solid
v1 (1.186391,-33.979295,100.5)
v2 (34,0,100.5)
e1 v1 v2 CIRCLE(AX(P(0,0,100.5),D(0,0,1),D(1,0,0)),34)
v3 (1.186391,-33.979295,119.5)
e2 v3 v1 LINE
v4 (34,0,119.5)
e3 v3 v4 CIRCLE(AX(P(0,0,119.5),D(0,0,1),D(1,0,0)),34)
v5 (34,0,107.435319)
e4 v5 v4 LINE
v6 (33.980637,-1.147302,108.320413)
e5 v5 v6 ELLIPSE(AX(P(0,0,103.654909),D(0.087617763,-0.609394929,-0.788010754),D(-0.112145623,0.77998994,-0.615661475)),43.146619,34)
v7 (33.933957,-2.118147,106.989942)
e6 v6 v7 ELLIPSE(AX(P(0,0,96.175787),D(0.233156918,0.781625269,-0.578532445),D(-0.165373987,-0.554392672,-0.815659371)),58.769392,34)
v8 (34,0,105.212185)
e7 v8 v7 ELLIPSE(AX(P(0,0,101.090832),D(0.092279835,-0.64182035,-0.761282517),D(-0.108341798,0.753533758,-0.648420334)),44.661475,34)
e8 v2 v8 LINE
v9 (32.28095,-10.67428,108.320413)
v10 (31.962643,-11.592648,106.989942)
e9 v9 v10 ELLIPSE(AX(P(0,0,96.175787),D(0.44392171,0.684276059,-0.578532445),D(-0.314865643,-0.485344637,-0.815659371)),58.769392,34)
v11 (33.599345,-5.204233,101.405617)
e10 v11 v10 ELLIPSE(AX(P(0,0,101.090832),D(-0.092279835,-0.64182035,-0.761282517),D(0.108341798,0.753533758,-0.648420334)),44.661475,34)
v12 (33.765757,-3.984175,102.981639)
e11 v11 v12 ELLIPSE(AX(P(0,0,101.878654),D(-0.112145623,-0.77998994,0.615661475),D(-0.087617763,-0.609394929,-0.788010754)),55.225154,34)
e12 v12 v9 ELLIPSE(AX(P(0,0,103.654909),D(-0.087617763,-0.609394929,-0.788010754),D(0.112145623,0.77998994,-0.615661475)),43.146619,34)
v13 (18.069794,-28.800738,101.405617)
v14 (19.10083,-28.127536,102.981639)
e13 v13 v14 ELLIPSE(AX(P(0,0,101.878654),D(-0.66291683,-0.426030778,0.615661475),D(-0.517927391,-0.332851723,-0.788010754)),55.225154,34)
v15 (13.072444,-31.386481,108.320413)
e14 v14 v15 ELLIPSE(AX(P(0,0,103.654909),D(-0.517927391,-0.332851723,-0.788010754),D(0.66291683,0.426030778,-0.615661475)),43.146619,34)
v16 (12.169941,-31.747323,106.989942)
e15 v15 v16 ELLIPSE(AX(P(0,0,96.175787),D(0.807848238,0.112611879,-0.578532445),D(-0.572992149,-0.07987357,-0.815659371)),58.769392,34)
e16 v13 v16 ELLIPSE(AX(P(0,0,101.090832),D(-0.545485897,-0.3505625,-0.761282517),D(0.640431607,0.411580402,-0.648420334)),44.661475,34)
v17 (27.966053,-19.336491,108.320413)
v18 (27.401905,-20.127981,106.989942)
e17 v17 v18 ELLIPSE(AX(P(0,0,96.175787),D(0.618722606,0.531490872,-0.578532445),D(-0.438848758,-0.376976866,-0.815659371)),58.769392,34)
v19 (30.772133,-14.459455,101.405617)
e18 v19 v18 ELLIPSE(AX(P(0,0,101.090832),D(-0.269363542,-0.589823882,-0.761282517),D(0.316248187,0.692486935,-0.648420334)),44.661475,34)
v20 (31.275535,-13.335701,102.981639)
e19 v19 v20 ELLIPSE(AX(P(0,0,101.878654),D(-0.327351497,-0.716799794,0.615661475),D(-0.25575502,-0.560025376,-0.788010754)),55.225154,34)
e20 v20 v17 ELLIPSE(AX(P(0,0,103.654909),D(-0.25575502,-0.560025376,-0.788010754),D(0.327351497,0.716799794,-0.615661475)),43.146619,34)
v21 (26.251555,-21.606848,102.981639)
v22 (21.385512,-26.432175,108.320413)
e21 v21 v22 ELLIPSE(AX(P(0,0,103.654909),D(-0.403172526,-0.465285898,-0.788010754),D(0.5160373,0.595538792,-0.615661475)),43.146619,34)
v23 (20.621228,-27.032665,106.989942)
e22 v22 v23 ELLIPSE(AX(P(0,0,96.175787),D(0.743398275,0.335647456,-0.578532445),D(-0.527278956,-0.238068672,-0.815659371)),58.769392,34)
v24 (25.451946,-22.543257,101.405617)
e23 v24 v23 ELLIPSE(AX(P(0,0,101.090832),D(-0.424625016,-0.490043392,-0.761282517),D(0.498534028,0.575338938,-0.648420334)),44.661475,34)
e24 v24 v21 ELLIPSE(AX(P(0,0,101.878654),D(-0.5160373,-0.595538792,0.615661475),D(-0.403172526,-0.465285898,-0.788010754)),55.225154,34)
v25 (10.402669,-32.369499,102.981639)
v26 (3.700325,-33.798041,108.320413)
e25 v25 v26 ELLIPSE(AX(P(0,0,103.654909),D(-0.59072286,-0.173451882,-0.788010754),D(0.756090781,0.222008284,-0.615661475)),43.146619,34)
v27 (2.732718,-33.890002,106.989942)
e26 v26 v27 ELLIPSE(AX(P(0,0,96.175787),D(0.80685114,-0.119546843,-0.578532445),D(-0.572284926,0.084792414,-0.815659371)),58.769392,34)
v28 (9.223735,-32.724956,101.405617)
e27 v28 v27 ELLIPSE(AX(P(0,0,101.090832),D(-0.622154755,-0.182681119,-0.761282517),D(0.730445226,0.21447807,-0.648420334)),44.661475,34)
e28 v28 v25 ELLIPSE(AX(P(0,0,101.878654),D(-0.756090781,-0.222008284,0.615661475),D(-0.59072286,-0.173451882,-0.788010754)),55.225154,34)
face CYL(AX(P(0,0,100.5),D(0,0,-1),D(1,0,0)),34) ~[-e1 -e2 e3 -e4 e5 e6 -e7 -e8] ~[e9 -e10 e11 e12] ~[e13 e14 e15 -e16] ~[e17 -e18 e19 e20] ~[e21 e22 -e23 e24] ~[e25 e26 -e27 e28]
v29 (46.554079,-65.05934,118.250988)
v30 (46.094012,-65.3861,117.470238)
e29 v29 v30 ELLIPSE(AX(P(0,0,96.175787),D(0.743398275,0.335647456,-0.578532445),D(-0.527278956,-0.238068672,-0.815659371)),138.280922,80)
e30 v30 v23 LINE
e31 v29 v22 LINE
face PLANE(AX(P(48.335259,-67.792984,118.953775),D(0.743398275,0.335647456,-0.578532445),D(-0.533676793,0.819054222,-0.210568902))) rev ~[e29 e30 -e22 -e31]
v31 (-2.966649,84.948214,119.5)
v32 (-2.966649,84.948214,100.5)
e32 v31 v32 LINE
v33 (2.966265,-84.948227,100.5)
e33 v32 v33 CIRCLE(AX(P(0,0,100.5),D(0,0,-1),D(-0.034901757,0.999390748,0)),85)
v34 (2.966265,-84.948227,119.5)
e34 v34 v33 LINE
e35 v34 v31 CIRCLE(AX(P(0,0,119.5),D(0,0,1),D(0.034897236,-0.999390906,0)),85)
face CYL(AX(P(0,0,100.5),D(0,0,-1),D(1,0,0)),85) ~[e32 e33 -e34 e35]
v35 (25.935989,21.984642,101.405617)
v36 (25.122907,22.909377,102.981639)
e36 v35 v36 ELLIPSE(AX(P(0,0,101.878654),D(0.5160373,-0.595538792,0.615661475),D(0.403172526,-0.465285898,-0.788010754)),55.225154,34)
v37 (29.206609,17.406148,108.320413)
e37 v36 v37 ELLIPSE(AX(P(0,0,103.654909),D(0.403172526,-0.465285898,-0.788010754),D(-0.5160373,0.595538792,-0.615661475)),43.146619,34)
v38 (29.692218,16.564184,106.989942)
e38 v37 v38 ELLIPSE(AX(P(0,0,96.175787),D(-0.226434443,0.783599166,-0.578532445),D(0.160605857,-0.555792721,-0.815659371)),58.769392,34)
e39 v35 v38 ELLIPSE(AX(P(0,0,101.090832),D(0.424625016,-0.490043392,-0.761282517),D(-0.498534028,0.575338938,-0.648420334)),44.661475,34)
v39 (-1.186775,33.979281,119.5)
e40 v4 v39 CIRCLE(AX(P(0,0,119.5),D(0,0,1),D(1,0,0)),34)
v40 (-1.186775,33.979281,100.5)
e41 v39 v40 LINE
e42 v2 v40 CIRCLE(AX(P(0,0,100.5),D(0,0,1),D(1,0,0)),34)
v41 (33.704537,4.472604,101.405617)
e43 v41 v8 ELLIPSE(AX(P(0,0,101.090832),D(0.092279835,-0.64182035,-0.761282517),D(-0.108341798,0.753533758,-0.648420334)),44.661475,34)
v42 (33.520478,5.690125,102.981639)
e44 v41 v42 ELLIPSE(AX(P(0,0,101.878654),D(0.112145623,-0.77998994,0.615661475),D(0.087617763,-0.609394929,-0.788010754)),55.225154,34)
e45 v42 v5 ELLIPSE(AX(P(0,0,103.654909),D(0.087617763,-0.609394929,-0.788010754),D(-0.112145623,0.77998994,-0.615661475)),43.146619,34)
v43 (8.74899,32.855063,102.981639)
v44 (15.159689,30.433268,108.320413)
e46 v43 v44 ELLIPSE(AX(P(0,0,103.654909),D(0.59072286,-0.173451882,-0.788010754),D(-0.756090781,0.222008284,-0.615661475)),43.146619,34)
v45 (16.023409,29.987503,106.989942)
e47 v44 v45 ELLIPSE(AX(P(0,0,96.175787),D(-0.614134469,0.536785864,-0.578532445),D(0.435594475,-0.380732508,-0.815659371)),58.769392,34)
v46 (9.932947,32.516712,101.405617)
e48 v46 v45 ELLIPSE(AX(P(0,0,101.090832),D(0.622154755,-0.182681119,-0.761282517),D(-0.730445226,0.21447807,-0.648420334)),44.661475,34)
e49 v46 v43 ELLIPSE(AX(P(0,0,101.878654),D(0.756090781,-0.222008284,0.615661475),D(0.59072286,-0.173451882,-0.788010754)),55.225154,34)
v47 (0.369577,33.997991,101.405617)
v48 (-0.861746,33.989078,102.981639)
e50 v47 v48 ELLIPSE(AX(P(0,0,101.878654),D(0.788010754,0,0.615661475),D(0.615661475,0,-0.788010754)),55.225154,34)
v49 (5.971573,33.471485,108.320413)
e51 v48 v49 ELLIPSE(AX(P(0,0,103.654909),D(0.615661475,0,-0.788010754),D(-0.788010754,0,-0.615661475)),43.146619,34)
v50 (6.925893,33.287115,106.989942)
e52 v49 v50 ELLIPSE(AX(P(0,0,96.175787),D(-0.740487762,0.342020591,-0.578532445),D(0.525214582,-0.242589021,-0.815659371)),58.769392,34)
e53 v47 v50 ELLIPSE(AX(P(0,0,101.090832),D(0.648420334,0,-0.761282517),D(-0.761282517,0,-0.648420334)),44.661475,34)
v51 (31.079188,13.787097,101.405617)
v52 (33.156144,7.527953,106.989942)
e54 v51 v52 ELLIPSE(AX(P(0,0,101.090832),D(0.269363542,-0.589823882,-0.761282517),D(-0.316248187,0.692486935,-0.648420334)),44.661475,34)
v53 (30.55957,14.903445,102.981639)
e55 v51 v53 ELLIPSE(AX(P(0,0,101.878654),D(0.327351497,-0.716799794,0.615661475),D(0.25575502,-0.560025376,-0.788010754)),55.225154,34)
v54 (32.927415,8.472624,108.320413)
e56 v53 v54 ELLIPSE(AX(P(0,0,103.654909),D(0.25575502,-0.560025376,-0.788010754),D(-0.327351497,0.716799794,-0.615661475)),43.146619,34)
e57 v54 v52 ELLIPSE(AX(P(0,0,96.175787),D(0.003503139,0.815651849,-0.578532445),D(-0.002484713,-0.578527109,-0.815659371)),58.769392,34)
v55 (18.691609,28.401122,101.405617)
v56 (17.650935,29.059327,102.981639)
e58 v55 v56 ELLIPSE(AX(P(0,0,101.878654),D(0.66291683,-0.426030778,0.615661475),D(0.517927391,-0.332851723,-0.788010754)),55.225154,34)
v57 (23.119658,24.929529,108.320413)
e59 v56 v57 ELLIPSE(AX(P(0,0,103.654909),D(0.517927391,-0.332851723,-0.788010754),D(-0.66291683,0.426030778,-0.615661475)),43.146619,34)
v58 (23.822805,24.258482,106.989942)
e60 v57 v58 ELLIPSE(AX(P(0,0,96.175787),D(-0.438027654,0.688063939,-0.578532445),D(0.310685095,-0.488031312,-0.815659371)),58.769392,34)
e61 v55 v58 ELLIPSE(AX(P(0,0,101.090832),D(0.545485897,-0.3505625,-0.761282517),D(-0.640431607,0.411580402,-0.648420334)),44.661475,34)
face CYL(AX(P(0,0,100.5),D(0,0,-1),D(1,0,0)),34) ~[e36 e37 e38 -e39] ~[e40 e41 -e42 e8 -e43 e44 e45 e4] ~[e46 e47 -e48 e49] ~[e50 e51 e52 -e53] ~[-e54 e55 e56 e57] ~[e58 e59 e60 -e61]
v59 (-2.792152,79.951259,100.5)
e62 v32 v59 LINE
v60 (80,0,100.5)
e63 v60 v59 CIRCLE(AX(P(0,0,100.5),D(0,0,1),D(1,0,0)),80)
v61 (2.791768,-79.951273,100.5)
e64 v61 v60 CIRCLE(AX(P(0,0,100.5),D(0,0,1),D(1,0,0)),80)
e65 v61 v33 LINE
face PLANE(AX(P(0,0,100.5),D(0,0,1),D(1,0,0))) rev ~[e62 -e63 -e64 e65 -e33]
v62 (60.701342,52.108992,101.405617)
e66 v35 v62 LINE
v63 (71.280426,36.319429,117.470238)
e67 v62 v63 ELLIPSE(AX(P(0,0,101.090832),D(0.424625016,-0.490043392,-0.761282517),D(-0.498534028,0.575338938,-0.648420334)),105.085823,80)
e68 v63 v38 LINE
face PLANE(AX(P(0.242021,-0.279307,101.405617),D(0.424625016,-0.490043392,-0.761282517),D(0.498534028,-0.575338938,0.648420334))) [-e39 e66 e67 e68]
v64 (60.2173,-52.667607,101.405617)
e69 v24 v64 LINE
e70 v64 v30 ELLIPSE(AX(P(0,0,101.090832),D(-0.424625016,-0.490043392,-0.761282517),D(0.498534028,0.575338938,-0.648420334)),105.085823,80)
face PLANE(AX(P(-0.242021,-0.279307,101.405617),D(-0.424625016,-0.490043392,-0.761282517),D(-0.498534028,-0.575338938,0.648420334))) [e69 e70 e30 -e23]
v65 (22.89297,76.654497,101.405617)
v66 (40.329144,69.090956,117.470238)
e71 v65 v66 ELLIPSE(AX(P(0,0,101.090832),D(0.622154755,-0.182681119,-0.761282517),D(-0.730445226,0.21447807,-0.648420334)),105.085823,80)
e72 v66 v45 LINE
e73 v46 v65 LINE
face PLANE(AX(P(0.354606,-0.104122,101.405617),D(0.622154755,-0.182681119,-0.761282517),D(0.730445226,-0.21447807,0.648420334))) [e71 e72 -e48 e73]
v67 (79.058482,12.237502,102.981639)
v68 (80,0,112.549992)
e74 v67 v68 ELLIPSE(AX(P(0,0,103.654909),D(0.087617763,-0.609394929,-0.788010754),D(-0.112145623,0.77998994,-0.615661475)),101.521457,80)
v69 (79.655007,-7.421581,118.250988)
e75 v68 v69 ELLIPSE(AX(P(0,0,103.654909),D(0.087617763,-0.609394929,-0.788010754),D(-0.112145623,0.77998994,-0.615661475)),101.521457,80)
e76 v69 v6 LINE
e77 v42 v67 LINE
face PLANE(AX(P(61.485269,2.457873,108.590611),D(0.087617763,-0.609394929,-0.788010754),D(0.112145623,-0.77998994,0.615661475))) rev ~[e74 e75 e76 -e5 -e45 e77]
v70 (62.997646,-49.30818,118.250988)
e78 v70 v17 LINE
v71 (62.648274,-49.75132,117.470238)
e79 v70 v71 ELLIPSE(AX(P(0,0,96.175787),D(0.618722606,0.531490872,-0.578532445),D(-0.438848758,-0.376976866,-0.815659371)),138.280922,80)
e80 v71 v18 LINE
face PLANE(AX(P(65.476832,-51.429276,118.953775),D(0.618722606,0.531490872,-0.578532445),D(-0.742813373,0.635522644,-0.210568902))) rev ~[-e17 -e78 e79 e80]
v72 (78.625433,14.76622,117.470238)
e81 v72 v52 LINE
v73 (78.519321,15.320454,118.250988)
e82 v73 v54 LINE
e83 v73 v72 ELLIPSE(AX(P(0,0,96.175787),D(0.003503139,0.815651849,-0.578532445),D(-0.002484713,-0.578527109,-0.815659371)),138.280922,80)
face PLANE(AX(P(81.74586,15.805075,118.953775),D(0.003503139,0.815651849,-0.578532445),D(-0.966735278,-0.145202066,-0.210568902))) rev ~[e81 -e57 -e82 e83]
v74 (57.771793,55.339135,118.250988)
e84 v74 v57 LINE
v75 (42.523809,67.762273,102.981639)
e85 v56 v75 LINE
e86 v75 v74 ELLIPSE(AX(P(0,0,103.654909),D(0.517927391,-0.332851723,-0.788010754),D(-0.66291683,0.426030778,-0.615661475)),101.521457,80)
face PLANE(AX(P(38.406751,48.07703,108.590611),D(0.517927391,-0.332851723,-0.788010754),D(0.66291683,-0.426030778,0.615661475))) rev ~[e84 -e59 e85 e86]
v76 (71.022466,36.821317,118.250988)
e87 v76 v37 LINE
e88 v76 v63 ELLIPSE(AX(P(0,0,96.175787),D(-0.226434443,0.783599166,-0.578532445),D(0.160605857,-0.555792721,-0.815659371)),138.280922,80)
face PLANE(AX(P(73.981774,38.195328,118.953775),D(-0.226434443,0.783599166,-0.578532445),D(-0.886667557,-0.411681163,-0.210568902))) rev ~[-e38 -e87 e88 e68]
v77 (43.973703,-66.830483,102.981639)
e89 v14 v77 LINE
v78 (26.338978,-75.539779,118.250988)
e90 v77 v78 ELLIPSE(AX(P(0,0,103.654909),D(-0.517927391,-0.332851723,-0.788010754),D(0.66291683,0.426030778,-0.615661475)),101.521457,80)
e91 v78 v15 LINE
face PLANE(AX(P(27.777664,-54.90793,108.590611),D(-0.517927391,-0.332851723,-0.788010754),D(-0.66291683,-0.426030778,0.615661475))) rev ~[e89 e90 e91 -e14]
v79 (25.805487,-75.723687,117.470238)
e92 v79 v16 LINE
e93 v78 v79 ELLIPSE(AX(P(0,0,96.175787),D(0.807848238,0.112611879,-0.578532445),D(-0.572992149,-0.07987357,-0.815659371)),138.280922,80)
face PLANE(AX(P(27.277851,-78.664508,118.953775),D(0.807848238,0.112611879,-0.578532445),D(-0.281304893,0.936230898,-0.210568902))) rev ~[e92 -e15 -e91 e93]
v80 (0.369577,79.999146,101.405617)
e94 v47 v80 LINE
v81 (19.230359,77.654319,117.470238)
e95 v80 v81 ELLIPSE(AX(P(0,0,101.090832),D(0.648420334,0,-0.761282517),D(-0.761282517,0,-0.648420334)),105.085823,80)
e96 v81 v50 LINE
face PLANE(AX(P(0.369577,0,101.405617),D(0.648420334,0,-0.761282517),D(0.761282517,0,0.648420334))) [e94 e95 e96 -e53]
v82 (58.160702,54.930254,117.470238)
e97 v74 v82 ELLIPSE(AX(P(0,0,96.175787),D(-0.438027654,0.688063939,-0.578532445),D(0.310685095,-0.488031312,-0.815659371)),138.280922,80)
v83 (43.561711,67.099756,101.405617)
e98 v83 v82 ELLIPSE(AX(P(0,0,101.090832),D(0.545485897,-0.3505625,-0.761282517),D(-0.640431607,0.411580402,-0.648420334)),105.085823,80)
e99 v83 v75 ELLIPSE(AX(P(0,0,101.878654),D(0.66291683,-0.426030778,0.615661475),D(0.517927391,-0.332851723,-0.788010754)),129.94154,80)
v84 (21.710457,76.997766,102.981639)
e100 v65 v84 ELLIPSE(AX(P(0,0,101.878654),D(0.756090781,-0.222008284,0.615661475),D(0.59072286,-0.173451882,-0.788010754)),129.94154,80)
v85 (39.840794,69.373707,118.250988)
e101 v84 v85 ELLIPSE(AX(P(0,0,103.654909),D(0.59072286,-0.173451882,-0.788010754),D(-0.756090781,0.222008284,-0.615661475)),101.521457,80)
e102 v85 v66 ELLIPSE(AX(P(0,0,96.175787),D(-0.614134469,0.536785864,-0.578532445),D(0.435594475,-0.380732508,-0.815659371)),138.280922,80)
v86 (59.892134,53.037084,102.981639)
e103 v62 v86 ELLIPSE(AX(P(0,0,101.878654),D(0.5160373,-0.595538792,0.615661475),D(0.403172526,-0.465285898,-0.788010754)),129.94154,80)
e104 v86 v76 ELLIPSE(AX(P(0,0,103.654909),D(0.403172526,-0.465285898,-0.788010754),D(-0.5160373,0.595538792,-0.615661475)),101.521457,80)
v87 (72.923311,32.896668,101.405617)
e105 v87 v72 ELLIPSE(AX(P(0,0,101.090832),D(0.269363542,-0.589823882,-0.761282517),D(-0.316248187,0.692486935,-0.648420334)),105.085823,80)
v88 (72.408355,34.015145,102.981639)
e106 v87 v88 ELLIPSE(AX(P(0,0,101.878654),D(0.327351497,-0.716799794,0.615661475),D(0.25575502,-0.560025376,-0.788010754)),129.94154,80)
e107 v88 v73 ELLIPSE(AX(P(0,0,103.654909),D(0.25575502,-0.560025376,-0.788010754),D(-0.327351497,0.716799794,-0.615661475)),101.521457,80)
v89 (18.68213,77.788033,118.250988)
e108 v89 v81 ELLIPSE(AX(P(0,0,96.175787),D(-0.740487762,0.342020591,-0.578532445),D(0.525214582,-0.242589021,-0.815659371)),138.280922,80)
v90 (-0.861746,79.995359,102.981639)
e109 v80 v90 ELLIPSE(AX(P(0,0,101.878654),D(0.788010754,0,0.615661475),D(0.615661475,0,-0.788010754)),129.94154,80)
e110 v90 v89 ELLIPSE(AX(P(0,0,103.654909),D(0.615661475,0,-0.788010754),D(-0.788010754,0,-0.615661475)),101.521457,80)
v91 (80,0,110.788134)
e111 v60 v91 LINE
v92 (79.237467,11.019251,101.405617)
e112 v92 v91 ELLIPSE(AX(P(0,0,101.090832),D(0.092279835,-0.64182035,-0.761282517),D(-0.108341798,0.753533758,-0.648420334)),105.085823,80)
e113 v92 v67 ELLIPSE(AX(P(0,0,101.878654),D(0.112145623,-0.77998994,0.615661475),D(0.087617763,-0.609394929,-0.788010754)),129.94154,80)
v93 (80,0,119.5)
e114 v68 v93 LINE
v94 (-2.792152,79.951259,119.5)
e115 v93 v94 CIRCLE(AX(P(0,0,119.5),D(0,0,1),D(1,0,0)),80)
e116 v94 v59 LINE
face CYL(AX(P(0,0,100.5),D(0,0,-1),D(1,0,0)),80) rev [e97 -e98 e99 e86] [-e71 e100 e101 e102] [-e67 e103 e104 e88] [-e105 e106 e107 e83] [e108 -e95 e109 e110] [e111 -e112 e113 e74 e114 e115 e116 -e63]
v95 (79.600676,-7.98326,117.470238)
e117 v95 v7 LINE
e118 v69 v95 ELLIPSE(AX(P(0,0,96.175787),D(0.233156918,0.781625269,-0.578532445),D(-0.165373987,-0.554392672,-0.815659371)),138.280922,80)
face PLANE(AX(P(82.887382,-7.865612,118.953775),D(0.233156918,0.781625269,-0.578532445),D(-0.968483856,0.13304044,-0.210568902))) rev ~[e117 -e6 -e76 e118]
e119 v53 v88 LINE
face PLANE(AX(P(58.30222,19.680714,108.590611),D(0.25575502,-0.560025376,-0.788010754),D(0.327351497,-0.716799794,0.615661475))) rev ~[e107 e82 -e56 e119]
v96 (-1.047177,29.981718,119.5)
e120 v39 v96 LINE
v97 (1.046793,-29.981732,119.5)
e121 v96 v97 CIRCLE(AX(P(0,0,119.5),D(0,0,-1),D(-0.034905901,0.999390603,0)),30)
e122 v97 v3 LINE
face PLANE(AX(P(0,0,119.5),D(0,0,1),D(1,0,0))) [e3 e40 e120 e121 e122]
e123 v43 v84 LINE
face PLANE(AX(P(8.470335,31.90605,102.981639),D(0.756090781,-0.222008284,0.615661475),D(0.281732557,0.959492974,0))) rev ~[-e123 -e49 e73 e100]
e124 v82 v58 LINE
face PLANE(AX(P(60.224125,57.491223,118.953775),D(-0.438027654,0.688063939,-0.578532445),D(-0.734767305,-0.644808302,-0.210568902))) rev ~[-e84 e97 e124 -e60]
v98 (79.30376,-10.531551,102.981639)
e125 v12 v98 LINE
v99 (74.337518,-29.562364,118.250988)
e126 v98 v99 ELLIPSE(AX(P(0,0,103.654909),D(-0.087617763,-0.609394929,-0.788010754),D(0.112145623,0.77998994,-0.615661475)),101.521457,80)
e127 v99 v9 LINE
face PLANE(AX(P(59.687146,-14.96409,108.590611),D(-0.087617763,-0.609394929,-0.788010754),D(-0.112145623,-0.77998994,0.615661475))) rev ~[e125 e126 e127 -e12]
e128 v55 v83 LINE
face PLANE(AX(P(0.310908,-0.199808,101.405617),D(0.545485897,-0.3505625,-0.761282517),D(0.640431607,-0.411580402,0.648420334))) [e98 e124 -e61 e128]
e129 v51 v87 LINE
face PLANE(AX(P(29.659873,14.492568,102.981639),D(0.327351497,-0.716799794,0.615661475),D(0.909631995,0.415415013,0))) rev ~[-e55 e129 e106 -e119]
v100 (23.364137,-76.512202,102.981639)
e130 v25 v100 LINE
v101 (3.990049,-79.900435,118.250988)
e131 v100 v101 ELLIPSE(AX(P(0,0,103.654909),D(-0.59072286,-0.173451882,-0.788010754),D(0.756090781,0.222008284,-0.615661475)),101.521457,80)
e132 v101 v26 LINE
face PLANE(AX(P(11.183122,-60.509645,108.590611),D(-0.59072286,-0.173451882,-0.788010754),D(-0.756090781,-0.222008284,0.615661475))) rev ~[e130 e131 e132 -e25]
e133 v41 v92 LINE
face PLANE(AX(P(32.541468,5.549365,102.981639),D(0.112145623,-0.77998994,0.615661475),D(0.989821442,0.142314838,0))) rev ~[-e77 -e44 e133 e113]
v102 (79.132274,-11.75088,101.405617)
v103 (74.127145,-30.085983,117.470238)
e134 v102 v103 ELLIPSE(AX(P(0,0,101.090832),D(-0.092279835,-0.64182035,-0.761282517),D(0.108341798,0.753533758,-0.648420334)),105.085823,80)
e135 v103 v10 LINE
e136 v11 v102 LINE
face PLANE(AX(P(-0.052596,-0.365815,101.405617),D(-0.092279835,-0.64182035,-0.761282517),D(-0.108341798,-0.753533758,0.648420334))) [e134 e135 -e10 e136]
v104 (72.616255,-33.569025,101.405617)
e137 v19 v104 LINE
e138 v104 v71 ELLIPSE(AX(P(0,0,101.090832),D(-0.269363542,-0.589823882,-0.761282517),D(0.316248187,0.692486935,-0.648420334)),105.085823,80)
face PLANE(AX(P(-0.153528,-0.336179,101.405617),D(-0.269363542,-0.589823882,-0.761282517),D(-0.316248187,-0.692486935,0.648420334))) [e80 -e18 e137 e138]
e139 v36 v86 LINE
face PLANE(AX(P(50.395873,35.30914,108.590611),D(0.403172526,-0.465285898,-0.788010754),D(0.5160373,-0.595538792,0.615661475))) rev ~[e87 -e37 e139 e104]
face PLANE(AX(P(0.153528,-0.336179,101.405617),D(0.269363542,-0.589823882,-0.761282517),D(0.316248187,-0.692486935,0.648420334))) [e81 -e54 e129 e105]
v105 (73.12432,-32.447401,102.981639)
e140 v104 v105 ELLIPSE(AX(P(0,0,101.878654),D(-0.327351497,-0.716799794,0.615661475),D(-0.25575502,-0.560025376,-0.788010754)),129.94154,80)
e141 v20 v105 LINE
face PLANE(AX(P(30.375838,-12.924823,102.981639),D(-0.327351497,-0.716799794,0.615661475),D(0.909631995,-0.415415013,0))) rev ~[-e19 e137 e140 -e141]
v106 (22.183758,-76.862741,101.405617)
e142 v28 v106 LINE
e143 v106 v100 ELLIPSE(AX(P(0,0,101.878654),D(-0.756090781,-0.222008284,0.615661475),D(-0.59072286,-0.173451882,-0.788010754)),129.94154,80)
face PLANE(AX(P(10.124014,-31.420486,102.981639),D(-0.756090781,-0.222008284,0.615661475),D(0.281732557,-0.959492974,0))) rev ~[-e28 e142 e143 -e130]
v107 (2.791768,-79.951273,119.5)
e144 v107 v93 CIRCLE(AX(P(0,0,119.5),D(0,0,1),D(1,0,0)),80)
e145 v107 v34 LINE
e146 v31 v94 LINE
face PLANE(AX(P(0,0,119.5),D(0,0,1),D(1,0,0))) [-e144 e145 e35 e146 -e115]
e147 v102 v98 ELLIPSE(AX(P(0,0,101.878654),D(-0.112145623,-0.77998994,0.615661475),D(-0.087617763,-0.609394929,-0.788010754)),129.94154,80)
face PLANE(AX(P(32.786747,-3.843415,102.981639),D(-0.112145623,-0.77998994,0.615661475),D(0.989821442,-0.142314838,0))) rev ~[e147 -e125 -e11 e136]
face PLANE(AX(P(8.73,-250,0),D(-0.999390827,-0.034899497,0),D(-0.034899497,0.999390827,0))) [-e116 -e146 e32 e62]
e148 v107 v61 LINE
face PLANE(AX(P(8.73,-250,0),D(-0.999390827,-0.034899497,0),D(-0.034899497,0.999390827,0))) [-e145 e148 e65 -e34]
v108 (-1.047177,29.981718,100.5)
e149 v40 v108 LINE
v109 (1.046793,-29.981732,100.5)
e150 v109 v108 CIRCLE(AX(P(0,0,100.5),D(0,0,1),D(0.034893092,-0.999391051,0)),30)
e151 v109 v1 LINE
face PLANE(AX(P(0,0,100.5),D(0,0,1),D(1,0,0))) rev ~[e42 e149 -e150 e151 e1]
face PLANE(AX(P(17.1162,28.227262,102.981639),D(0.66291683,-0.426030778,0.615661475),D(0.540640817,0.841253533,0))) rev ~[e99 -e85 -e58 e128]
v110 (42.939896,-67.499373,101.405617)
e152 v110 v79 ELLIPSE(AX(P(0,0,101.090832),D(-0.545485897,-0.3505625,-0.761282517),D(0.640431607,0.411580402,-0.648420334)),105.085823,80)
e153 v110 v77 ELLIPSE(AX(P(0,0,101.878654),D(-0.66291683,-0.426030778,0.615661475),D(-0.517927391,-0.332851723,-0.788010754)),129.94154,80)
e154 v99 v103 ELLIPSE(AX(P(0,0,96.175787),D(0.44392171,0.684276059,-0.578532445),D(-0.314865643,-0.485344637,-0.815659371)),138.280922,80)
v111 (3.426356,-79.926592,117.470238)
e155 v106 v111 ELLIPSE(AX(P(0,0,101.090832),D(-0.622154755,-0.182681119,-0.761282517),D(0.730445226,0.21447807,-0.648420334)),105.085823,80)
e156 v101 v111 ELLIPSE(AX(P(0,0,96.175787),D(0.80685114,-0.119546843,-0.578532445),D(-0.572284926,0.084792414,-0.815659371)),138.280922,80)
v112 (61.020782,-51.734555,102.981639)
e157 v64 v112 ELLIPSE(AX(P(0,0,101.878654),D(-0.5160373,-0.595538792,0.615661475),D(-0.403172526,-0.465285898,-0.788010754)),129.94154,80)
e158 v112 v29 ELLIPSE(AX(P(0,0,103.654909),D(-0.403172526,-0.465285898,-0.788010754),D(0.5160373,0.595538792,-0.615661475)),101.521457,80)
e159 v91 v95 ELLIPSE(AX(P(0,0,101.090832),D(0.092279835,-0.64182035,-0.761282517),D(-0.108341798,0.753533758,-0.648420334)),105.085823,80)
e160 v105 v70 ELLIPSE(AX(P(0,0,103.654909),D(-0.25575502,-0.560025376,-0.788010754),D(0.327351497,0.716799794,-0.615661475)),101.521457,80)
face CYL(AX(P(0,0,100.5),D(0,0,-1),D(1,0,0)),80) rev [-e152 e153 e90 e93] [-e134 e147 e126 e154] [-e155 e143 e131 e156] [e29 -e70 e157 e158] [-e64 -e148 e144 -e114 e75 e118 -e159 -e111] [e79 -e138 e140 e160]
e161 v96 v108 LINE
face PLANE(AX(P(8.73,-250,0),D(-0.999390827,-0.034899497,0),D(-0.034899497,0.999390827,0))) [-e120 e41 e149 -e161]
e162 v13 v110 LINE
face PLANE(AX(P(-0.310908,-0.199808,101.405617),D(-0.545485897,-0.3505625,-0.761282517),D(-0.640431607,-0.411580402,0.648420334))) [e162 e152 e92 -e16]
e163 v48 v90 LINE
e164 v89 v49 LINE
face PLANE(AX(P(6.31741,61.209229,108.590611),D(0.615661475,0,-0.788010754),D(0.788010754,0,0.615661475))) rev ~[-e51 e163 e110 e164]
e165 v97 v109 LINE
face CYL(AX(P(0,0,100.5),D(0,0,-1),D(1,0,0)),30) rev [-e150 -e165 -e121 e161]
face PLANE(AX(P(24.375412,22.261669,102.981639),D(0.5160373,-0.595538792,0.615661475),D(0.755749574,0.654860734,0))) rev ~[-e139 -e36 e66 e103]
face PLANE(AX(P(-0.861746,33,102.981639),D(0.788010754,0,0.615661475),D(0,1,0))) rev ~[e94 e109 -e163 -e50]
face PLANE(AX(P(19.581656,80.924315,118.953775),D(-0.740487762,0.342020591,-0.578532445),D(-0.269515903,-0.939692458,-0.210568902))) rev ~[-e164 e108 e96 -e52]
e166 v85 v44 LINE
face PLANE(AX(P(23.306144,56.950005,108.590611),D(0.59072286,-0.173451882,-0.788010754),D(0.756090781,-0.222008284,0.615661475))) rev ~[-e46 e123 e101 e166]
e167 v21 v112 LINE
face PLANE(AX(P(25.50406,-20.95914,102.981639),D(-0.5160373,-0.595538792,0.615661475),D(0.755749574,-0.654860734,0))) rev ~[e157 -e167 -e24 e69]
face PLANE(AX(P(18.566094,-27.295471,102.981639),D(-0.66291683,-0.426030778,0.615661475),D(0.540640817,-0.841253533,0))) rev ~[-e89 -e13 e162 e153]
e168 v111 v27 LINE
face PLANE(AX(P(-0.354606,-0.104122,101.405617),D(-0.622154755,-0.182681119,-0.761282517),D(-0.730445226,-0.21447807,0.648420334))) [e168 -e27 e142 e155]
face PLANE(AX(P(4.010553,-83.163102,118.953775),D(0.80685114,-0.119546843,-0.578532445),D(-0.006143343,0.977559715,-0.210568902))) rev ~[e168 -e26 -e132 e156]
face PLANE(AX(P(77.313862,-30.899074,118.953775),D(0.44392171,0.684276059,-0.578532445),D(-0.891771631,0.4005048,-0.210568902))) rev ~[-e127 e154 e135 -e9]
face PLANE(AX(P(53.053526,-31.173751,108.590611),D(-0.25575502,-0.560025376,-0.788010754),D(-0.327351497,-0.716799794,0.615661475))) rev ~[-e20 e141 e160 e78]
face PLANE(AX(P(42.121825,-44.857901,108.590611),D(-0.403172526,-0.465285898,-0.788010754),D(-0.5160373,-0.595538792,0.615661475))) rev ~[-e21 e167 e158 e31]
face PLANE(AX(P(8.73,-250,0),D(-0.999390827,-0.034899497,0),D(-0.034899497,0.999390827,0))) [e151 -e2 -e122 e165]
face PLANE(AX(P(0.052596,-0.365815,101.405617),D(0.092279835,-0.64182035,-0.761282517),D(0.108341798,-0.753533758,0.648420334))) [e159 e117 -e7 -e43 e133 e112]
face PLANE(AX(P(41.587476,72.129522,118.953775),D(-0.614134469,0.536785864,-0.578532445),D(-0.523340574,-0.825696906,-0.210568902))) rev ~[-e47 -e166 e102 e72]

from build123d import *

# Parameters (mm, degrees)
BOX002_W                  = 500
BOX002_H                  = 500
BOX002_DEPTH              = 500
BOX002_PLACEMENT_ANGLE    = 2
TUBE021_R                 = 85
TUBE021_R_2               = 80
TUBE021_DEPTH             = 19
TUBE013_R                 = 100
TUBE013_R_2               = 80
TUBE013_DEPTH             = 200
PAD028_DEPTH              = 100
PAD029_DEPTH              = 2
COMMON012_PLACEMENT_ANGLE = 38
ARRAY012_COUNT            = 22
ARRAY012_PLACEMENT_ANGLE  = 180
TUBE022_R                 = 34
TUBE022_R_2               = 30
TUBE022_DEPTH             = 19


with BuildPart() as cube002:
    # Box002 → Box002 (new body)
    with BuildSketch(Plane.XY):
        with Locations((250, 250)):
            Rectangle(BOX002_W, BOX002_H)
    extrude(amount=BOX002_DEPTH)


with BuildPart() as cube002_1:
    # Box002 placement: moved
    add(cube002.part.moved(Location((8.73, -250, 0))).rotate(Axis((8.73, -250, 0), (0, 0, 1)), BOX002_PLACEMENT_ANGLE))


with BuildPart() as tube021:
    # Tube021 → Tube021 (new body)
    with BuildSketch(Plane.XY.offset(100.5)):
        Circle(TUBE021_R)
        Circle(TUBE021_R_2, mode=Mode.SUBTRACT)
    extrude(amount=TUBE021_DEPTH)


with BuildPart() as tube013:
    # Tube013 → Tube013 (new body)
    with BuildSketch(Plane.XY):
        Circle(TUBE013_R)
        Circle(TUBE013_R_2, mode=Mode.SUBTRACT)
    extrude(amount=TUBE013_DEPTH)


with BuildPart() as body029:
    # Sketch028 → Pad028 (new body)
    with BuildSketch(Plane.XZ):
        Polygon((0, 0), (0, 2), (26, 0.9), (26, 0), align=None)
    extrude(amount=PAD028_DEPTH)


with BuildPart() as body029_1:
    # Body029 placement: moved
    add(body029.part.moved(Location((-5, 0, 5))))


with BuildPart() as cut002:
    # Sketch029 → Pad029 (new body)
    with BuildSketch(Plane.XY):
        Polygon((0, 0), (0, -52), (25.94305, -47.924315), (8.5, 0), align=None)
    extrude(amount=PAD029_DEPTH)


with BuildPart() as cut002_1:
    # Body030 placement: moved
    add(cut002.part.moved(Location((-5, -33, 5))))

    # Common012: intersect Body029
    add(body029_1.part, mode=Mode.INTERSECT)


with BuildPart() as cut002_2:
    # Common012 placement: moved
    add(cut002_1.part.rotate(Axis((0, 0, 0), (0, 1, 0)), COMMON012_PLACEMENT_ANGLE))

    # Array012: Cut002 ×22 about axis
    array012_axis = Axis((0, 0, 0), (0, 0, 1))


with BuildPart() as cut002_3:
    add(cut002_2.part)
    for i in range(1, ARRAY012_COUNT):
        add(cut002_2.part.rotate(array012_axis, i * 360 / ARRAY012_COUNT))


with BuildPart() as cut002_4:
    # Array012 placement: moved
    add(cut002_3.part.moved(Location((0, 0, 110))).rotate(Axis((0, 0, 110), (0, 1, 0)), ARRAY012_PLACEMENT_ANGLE))

    # Cut002: cut Tube013
    add(tube013.part, mode=Mode.SUBTRACT)


with BuildPart() as stator1h1:
    # Tube022 → Tube022 (new body)
    with BuildSketch(Plane.XY.offset(100.5)):
        Circle(TUBE022_R)
        Circle(TUBE022_R_2, mode=Mode.SUBTRACT)
    extrude(amount=TUBE022_DEPTH)

    # Fusion010: union Tube021, Cut002
    add(tube021.part)
    add(cut002_4.part)

    # Common017: intersect Cube002
    add(cube002_1.part, mode=Mode.INTERSECT)


solid = stator1h1.part
